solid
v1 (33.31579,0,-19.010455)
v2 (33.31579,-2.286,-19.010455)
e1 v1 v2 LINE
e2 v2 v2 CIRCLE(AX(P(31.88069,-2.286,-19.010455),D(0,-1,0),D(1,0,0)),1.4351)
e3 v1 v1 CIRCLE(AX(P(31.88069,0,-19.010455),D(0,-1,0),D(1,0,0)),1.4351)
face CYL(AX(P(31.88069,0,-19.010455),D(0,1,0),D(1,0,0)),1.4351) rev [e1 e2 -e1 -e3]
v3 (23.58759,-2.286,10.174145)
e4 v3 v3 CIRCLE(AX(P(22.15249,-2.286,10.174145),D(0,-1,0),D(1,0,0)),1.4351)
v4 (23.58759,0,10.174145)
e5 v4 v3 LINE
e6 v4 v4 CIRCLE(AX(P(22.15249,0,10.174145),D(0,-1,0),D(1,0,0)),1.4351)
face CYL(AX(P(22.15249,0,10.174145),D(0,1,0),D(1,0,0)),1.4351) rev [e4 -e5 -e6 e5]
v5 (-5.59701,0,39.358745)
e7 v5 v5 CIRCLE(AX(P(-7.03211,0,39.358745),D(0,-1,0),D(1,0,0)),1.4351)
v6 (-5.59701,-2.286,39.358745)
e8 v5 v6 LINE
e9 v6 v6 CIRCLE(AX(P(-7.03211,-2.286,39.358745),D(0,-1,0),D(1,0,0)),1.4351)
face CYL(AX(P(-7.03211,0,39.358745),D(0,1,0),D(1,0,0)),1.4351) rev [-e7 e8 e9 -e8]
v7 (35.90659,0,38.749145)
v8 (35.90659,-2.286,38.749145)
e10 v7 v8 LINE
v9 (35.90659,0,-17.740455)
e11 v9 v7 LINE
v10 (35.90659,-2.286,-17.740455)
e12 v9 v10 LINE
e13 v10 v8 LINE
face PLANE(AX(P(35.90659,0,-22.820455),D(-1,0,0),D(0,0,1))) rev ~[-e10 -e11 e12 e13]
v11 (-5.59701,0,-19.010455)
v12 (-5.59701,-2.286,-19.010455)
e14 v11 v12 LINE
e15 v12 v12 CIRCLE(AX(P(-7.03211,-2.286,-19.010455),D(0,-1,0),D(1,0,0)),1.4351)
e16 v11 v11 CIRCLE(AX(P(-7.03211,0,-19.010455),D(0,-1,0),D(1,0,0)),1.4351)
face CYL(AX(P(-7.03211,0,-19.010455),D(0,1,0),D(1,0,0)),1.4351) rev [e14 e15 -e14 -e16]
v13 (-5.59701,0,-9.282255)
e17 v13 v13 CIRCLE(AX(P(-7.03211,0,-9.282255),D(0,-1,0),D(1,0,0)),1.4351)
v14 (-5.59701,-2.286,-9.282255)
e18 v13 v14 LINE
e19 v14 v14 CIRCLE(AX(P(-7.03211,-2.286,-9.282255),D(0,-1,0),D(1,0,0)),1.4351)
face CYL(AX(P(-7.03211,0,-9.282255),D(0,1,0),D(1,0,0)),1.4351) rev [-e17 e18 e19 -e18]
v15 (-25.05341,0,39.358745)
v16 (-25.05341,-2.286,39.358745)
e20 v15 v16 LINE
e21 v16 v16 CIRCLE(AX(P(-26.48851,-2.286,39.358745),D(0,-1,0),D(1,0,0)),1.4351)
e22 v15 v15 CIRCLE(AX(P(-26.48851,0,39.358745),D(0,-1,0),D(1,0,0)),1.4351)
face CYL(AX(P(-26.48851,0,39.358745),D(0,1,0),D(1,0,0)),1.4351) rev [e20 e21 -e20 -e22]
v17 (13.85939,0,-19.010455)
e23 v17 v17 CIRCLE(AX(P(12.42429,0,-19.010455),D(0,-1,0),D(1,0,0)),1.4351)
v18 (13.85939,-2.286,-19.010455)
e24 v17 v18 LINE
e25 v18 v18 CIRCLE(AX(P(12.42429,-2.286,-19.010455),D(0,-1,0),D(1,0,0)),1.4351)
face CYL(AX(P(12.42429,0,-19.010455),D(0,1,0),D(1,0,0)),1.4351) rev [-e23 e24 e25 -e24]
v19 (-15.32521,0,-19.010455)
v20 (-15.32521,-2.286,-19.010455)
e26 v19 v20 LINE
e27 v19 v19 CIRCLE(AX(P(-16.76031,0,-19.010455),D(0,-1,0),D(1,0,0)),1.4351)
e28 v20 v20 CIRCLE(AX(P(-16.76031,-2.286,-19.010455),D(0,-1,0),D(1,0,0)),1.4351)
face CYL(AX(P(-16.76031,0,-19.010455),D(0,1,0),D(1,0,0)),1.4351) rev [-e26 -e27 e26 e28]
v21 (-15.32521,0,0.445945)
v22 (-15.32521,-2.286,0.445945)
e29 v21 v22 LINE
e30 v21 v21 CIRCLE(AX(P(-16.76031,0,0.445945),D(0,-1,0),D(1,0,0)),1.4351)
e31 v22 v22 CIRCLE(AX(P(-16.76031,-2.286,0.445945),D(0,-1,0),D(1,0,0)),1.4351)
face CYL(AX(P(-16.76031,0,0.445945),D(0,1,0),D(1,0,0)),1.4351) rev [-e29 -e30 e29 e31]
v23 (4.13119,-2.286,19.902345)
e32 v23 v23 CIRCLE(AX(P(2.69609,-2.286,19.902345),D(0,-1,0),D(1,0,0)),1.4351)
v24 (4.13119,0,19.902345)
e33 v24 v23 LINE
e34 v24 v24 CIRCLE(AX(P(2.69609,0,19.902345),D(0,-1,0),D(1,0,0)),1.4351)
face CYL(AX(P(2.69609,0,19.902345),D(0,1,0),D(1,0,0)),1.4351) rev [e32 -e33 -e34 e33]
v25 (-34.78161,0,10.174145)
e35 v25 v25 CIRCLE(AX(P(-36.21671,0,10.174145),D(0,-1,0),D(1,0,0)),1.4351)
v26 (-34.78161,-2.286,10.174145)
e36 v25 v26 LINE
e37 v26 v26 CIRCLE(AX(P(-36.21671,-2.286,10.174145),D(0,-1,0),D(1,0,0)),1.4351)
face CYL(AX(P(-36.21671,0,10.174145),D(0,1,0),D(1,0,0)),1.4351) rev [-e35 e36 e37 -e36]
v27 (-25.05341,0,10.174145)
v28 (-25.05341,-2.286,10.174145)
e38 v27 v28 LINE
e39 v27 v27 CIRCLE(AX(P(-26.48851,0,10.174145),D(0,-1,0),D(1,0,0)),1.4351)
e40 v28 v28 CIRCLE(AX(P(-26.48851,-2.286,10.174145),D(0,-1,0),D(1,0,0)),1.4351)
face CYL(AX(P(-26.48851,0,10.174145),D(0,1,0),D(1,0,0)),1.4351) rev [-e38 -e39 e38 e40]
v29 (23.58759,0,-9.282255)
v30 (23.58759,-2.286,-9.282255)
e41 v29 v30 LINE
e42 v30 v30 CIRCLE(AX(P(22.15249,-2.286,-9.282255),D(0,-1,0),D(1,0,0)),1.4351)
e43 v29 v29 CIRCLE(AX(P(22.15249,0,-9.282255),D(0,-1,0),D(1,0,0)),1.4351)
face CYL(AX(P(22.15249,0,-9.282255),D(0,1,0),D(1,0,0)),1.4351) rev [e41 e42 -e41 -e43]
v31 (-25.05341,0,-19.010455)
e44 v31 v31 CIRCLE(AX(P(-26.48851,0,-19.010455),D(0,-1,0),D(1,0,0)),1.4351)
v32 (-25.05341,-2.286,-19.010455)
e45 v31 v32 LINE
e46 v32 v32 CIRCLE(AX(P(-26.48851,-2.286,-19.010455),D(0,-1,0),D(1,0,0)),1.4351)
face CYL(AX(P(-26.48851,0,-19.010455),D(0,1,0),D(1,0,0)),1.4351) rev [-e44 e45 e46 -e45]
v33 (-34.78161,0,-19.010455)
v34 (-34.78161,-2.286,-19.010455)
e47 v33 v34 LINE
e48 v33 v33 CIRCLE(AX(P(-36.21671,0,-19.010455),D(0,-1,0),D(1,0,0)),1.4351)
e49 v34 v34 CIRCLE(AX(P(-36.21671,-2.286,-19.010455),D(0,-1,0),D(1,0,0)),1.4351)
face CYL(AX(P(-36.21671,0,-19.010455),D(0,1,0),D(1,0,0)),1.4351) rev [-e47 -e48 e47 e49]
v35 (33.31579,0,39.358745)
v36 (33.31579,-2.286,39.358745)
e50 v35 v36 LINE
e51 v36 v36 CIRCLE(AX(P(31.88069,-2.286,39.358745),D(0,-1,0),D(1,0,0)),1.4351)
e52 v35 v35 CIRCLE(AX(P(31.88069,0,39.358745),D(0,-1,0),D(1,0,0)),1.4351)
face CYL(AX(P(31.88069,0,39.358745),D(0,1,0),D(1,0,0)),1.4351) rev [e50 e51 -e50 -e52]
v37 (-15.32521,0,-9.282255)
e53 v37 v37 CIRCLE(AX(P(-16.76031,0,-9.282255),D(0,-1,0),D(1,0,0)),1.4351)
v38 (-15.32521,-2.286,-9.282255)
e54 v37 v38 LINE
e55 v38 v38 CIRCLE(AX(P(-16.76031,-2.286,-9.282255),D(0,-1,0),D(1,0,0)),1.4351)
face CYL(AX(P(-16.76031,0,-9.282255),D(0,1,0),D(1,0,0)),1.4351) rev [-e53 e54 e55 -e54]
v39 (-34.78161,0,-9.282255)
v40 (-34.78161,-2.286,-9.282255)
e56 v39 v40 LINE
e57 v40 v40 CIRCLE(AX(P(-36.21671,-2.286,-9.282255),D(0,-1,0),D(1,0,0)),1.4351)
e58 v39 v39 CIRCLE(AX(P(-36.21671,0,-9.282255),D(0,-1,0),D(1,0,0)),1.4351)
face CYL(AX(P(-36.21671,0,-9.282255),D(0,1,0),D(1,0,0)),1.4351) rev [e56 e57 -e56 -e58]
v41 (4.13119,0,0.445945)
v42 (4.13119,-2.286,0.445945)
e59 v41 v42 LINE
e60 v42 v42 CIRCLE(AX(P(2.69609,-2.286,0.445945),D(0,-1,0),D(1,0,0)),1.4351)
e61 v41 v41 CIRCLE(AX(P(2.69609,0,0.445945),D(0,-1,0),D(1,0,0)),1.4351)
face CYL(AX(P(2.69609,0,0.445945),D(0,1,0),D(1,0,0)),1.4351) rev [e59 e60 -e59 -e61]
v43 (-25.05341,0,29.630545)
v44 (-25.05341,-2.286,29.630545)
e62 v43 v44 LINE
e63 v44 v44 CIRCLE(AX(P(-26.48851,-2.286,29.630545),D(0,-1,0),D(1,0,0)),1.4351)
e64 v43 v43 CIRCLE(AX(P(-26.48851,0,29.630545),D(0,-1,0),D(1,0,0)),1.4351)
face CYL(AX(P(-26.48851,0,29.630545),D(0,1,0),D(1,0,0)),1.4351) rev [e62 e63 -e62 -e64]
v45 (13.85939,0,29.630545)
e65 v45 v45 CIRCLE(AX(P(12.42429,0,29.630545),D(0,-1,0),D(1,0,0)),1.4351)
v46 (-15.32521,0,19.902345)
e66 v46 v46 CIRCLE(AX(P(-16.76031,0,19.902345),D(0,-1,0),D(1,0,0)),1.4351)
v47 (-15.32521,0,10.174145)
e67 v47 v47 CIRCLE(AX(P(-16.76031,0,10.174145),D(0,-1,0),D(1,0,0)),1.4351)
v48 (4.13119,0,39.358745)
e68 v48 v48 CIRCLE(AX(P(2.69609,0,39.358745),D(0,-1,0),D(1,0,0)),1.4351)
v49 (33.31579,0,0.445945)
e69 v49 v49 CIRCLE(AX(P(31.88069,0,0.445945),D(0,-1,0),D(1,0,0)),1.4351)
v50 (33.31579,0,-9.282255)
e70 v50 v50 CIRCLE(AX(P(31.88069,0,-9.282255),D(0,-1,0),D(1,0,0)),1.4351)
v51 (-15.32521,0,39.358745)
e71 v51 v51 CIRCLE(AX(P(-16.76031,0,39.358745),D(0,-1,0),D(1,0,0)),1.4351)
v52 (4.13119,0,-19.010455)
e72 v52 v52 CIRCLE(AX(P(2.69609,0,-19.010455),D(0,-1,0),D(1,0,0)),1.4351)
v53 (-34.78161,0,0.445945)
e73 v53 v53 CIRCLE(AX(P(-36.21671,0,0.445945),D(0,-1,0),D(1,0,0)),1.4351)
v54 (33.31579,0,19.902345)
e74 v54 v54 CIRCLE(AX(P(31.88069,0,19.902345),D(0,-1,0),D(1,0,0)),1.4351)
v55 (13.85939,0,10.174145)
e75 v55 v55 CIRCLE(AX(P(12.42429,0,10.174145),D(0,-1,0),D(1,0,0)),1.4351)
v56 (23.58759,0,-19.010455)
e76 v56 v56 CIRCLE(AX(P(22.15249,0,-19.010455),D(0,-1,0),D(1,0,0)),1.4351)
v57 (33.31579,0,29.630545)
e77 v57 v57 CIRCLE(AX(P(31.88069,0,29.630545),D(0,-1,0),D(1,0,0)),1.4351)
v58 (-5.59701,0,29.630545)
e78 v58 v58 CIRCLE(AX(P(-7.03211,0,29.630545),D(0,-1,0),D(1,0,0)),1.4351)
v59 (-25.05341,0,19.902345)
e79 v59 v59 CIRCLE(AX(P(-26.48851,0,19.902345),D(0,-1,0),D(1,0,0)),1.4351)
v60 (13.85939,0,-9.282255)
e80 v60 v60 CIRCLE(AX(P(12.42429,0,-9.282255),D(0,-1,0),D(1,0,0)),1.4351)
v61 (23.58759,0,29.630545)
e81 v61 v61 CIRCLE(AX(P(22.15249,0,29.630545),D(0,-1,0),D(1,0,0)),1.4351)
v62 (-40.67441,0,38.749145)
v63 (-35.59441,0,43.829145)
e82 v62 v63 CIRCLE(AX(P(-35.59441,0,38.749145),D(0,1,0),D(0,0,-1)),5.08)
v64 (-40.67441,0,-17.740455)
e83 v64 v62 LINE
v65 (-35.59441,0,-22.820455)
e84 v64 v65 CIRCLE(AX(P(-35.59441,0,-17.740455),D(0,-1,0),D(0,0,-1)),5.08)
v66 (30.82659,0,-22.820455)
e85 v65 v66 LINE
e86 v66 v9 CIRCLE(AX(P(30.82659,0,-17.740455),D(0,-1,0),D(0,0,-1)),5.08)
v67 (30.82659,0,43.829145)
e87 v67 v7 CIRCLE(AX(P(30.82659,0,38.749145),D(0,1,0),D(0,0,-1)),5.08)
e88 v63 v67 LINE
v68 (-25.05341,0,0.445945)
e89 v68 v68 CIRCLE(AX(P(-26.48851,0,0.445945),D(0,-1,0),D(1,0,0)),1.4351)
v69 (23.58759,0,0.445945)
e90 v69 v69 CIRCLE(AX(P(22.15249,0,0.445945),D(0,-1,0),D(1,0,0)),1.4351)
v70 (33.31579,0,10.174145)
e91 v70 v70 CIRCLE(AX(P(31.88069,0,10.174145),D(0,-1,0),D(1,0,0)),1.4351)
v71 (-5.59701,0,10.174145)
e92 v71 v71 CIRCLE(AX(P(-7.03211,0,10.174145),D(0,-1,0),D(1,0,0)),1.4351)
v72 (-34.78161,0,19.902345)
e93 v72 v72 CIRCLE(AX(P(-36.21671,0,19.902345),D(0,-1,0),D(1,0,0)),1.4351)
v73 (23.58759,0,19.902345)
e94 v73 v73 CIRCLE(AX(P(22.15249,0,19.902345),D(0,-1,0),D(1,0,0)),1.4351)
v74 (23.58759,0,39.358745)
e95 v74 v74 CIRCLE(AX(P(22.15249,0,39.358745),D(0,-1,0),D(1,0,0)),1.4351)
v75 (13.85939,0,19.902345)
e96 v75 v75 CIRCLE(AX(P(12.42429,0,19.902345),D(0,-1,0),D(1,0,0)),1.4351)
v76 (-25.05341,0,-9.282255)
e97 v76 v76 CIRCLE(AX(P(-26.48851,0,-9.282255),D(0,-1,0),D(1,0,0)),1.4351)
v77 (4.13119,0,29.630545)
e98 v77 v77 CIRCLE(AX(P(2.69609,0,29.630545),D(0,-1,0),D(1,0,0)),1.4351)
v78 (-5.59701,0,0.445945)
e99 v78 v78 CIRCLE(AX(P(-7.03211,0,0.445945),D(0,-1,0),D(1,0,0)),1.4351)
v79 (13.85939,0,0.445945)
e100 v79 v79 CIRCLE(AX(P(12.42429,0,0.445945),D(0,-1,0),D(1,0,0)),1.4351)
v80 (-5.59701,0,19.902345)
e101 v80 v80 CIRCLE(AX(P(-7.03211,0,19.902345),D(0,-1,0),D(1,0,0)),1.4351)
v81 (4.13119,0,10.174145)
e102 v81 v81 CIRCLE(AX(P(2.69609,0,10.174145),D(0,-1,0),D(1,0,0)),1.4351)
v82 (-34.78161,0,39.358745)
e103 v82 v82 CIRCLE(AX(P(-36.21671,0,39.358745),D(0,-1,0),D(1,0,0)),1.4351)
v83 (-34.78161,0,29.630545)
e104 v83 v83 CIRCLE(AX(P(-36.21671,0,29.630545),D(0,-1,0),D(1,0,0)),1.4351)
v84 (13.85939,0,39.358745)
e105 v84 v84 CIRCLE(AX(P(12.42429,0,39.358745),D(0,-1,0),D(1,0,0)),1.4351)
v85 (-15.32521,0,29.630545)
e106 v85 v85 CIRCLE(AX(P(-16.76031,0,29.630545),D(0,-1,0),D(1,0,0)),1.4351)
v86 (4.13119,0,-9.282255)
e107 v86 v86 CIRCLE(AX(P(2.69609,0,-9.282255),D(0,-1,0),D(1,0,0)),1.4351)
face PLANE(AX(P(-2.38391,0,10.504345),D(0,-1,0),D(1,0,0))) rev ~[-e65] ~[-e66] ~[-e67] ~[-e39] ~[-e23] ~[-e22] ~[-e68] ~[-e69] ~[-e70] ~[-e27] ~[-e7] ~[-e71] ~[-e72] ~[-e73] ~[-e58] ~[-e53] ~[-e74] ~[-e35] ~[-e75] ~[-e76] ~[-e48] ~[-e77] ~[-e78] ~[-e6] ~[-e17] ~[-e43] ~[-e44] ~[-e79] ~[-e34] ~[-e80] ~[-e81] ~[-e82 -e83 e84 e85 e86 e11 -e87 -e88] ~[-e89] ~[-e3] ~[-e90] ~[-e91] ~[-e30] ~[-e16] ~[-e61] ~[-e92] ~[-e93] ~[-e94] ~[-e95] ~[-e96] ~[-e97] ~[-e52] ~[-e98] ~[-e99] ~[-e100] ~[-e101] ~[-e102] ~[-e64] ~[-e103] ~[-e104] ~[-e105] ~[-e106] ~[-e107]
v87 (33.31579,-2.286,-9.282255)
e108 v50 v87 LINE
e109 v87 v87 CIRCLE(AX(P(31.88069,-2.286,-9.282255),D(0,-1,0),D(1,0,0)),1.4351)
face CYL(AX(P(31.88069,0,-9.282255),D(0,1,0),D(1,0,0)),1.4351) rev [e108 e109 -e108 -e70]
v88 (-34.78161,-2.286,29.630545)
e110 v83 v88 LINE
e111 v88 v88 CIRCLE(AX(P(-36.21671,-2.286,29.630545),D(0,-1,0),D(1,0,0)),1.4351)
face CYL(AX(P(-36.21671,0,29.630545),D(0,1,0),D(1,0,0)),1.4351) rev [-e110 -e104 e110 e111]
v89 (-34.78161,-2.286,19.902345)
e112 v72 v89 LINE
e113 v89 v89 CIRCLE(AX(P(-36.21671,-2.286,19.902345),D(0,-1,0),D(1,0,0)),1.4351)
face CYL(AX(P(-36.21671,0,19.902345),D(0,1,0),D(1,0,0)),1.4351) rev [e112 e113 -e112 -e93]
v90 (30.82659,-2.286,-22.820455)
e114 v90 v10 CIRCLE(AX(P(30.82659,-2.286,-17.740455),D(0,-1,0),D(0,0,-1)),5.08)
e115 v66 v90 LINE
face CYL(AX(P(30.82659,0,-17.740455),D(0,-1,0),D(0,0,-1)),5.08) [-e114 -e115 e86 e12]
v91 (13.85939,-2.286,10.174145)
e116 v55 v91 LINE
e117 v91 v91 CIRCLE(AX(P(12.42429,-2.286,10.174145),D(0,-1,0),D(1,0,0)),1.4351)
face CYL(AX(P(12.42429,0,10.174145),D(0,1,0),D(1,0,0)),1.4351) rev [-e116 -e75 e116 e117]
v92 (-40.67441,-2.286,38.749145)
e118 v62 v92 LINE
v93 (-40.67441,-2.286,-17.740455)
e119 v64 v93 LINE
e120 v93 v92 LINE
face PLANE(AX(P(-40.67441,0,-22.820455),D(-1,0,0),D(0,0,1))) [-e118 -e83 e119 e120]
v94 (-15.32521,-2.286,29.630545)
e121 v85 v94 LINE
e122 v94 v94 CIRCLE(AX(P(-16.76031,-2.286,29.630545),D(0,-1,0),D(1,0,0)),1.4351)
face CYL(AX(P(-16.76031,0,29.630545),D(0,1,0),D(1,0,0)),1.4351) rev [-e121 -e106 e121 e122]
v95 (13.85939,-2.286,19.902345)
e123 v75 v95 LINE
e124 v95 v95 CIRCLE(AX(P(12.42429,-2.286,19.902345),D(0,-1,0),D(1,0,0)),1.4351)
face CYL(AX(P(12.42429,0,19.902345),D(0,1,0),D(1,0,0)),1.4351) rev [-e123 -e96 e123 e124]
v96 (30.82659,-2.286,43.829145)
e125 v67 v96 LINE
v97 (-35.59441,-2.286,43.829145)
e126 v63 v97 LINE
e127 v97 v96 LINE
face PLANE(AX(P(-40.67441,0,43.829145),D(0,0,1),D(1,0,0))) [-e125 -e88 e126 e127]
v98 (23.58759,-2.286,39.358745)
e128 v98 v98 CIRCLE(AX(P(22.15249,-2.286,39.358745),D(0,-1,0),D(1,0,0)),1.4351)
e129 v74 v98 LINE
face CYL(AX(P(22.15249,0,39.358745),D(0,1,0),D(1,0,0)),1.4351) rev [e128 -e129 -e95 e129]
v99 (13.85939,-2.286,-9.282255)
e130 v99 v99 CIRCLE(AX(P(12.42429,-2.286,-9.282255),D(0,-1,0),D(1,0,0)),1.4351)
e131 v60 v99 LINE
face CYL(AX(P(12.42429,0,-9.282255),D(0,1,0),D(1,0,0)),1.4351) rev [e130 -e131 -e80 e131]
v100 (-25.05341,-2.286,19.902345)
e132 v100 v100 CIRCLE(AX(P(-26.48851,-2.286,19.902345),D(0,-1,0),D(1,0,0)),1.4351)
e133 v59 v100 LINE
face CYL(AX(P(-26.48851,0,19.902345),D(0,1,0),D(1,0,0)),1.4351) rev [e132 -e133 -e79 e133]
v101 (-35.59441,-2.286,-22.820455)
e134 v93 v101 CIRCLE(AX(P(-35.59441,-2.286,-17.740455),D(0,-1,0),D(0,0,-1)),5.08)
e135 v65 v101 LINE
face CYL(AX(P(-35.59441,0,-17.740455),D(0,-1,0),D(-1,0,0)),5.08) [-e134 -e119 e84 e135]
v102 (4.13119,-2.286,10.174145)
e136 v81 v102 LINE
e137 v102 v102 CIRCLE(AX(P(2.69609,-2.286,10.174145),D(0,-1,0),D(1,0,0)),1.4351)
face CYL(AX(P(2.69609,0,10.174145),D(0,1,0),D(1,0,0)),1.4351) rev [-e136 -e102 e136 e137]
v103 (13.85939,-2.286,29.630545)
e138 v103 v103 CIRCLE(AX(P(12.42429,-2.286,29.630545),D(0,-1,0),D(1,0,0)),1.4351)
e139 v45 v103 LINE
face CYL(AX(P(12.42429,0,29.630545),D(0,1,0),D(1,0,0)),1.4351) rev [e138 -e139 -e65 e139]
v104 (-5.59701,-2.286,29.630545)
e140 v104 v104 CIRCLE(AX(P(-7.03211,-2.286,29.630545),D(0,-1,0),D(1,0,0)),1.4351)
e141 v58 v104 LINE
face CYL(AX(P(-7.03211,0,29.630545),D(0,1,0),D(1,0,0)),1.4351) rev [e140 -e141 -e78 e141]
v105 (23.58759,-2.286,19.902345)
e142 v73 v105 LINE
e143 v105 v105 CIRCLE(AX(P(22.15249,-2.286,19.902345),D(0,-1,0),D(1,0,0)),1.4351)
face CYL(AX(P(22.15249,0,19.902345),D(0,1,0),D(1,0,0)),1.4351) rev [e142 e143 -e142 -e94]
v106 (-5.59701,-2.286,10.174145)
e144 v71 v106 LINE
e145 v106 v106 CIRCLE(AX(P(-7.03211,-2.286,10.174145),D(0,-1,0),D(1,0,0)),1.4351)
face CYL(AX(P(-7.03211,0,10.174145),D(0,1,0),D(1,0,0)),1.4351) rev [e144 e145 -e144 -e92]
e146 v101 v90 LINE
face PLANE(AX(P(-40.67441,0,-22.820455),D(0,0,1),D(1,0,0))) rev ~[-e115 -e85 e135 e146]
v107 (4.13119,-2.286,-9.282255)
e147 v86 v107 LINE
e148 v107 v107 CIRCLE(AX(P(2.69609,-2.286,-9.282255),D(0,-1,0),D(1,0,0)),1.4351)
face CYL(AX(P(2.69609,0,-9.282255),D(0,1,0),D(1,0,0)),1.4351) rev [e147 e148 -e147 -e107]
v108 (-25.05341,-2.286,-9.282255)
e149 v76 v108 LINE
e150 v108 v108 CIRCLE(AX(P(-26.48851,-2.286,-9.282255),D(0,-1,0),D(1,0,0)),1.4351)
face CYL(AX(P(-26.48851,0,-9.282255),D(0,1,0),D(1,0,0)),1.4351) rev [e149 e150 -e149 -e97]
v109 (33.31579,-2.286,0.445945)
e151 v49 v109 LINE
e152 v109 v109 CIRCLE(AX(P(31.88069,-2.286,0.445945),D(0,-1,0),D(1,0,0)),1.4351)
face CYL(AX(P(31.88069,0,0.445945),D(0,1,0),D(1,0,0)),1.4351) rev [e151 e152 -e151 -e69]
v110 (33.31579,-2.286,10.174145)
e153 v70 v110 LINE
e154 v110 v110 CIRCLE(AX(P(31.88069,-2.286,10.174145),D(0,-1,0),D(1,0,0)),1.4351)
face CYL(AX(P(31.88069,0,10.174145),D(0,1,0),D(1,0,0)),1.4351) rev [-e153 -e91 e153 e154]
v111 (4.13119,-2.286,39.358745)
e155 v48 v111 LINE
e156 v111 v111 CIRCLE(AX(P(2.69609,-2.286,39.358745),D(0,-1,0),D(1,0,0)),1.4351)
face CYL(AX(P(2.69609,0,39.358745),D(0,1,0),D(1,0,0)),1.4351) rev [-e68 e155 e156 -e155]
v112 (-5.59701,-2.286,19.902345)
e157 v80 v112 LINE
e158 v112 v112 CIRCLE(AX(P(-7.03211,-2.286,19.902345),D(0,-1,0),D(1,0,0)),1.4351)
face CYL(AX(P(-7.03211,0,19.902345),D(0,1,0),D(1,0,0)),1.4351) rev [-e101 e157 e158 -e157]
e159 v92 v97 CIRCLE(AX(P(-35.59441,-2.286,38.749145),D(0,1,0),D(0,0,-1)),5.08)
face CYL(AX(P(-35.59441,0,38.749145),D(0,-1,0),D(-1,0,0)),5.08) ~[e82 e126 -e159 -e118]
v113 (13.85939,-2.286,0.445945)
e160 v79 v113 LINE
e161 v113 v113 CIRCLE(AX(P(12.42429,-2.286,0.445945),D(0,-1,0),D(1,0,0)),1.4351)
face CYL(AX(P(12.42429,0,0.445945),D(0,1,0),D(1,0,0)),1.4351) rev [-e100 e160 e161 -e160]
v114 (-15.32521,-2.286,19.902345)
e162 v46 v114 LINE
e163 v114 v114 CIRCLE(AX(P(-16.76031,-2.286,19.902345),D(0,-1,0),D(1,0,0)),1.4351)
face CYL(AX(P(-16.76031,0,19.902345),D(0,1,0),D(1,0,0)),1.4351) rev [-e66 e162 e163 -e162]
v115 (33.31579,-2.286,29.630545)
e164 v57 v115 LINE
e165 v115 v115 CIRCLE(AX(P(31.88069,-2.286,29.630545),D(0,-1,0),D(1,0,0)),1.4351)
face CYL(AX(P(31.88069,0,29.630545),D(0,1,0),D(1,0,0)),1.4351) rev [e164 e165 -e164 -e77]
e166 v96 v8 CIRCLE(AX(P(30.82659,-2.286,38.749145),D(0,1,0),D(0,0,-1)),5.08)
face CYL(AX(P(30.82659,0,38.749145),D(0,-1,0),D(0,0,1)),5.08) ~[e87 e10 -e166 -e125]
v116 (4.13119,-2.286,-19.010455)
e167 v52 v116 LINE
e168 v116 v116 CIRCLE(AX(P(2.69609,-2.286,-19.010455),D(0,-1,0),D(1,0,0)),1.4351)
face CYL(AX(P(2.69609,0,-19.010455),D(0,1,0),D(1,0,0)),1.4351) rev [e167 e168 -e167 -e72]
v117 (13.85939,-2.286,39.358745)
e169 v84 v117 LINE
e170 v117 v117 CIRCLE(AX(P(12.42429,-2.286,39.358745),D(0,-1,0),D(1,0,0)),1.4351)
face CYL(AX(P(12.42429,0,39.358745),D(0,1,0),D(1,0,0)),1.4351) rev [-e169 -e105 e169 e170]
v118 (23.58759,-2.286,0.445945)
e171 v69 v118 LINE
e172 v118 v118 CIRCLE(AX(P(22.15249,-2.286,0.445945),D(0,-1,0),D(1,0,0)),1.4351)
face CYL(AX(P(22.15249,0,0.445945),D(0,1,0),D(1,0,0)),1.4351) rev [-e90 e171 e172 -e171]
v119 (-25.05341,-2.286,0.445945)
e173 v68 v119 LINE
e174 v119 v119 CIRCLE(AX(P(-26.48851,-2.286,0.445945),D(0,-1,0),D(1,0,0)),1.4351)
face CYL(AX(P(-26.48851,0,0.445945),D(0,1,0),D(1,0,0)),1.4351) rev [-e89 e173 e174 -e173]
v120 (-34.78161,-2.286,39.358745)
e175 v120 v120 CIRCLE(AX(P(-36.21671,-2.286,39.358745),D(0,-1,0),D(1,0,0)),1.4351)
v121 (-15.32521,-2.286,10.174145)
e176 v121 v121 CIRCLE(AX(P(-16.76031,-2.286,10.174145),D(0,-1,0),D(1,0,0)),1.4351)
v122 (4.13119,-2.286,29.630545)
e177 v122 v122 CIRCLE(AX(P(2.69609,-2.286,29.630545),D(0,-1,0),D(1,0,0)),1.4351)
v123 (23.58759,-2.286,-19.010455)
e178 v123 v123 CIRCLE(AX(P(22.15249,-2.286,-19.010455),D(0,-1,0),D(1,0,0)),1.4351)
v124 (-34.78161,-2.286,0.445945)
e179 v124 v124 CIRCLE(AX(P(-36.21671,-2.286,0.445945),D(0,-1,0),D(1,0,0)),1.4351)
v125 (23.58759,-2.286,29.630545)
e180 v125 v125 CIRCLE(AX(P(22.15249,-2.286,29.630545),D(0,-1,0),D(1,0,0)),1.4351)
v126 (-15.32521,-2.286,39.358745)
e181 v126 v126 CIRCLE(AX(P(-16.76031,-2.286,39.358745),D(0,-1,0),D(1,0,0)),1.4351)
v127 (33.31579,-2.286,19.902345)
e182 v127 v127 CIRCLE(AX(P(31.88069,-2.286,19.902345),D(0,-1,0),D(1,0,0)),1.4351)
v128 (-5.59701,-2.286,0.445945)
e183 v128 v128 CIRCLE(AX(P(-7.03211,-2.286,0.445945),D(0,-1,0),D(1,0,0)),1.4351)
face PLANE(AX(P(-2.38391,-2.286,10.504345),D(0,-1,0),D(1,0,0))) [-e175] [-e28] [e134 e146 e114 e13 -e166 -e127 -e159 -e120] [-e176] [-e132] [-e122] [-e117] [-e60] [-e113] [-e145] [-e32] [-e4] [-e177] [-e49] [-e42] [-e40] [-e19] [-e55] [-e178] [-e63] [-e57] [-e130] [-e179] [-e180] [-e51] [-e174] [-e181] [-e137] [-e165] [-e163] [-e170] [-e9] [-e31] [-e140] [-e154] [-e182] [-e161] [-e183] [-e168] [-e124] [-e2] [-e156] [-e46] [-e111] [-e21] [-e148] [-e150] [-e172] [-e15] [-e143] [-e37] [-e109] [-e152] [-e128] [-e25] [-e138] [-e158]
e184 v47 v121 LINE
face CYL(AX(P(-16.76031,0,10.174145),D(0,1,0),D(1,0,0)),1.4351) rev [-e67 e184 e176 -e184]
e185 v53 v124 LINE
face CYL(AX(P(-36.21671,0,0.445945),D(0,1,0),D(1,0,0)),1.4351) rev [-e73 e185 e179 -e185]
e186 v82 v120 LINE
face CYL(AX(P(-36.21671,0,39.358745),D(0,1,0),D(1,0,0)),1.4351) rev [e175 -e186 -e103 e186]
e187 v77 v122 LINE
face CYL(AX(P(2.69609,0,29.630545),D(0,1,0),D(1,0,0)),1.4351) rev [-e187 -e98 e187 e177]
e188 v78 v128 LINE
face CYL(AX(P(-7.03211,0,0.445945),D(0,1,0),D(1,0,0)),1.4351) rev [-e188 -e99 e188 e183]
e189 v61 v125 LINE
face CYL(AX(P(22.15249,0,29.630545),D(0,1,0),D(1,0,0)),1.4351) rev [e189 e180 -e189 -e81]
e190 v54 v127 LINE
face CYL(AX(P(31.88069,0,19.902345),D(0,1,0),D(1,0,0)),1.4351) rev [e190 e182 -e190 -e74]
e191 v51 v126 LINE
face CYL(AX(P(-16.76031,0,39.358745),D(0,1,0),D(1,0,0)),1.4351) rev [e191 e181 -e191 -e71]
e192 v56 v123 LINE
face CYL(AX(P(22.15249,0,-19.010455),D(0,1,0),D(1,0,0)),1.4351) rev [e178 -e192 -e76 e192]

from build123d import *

# Parameters (mm, degrees)
F0_W     = 76.581
F0_H     = 66.6496
F1_DEPTH = 2.286
F2_R     = 1.4351
F3_DEPTH = 2.286
F4_R     = 5.08


with BuildPart() as f1:
    # F0 (on Front) → F1 (new body)
    with BuildSketch(Plane.XZ):
        with Locations((-2.38391, 10.504345)):
            Rectangle(F0_W, F0_H)
    extrude(amount=F1_DEPTH)

    # F2 (on Front) → F3 (cut)
    with BuildSketch(Plane.XZ):
        with Locations((-36.21671, 39.358745)):
            Circle(F2_R)
        with Locations((-36.21671, 29.630545)):
            Circle(F2_R)
        with Locations((-36.21671, 19.902345)):
            Circle(F2_R)
        with Locations((-36.21671, 10.174145)):
            Circle(F2_R)
        with Locations((-36.21671, 0.445945)):
            Circle(F2_R)
        with Locations((-36.21671, -9.282255)):
            Circle(F2_R)
        with Locations((-36.21671, -19.010455)):
            Circle(F2_R)
        with Locations((-26.48851, 39.358745)):
            Circle(F2_R)
        with Locations((-26.48851, 29.630545)):
            Circle(F2_R)
        with Locations((-26.48851, 19.902345)):
            Circle(F2_R)
        with Locations((-26.48851, 10.174145)):
            Circle(F2_R)
        with Locations((-26.48851, 0.445945)):
            Circle(F2_R)
        with Locations((-26.48851, -9.282255)):
            Circle(F2_R)
        with Locations((-26.48851, -19.010455)):
            Circle(F2_R)
        with Locations((-16.76031, 39.358745)):
            Circle(F2_R)
        with Locations((-16.76031, 29.630545)):
            Circle(F2_R)
        with Locations((-16.76031, 19.902345)):
            Circle(F2_R)
        with Locations((-16.76031, 10.174145)):
            Circle(F2_R)
        with Locations((-16.76031, 0.445945)):
            Circle(F2_R)
        with Locations((-16.76031, -9.282255)):
            Circle(F2_R)
        with Locations((-16.76031, -19.010455)):
            Circle(F2_R)
        with Locations((-7.03211, 39.358745)):
            Circle(F2_R)
        with Locations((-7.03211, 29.630545)):
            Circle(F2_R)
        with Locations((-7.03211, 19.902345)):
            Circle(F2_R)
        with Locations((-7.03211, 10.174145)):
            Circle(F2_R)
        with Locations((-7.03211, 0.445945)):
            Circle(F2_R)
        with Locations((-7.03211, -9.282255)):
            Circle(F2_R)
        with Locations((-7.03211, -19.010455)):
            Circle(F2_R)
        with Locations((2.69609, 39.358745)):
            Circle(F2_R)
        with Locations((2.69609, 29.630545)):
            Circle(F2_R)
        with Locations((2.69609, 19.902345)):
            Circle(F2_R)
        with Locations((2.69609, 10.174145)):
            Circle(F2_R)
        with Locations((2.69609, 0.445945)):
            Circle(F2_R)
        with Locations((2.69609, -9.282255)):
            Circle(F2_R)
        with Locations((2.69609, -19.010455)):
            Circle(F2_R)
        with Locations((12.42429, 39.358745)):
            Circle(F2_R)
        with Locations((12.42429, 29.630545)):
            Circle(F2_R)
        with Locations((12.42429, 19.902345)):
            Circle(F2_R)
        with Locations((12.42429, 10.174145)):
            Circle(F2_R)
        with Locations((12.42429, 0.445945)):
            Circle(F2_R)
        with Locations((12.42429, -9.282255)):
            Circle(F2_R)
        with Locations((12.42429, -19.010455)):
            Circle(F2_R)
        with Locations((22.15249, 39.358745)):
            Circle(F2_R)
        with Locations((22.15249, 29.630545)):
            Circle(F2_R)
        with Locations((22.15249, 19.902345)):
            Circle(F2_R)
        with Locations((22.15249, 10.174145)):
            Circle(F2_R)
        with Locations((22.15249, 0.445945)):
            Circle(F2_R)
        with Locations((22.15249, -9.282255)):
            Circle(F2_R)
        with Locations((22.15249, -19.010455)):
            Circle(F2_R)
        with Locations((31.88069, 39.358745)):
            Circle(F2_R)
        with Locations((31.88069, 29.630545)):
            Circle(F2_R)
        with Locations((31.88069, 19.902345)):
            Circle(F2_R)
        with Locations((31.88069, 10.174145)):
            Circle(F2_R)
        with Locations((31.88069, 0.445945)):
            Circle(F2_R)
        with Locations((31.88069, -9.282255)):
            Circle(F2_R)
        with Locations((31.88069, -19.010455)):
            Circle(F2_R)
    extrude(amount=F3_DEPTH, mode=Mode.SUBTRACT)

    # F4
    f4_edges = [f1.edges().sort_by_distance(p)[0] for p in [
        (-40.67441, -1.143, -22.820455),
        (35.90659, -1.143, 43.829145),
        (35.90659, -1.143, -22.820455),
        (-40.67441, -1.143, 43.829145),
    ]]
    fillet(f4_edges, radius=F4_R)


solid = f1.part
